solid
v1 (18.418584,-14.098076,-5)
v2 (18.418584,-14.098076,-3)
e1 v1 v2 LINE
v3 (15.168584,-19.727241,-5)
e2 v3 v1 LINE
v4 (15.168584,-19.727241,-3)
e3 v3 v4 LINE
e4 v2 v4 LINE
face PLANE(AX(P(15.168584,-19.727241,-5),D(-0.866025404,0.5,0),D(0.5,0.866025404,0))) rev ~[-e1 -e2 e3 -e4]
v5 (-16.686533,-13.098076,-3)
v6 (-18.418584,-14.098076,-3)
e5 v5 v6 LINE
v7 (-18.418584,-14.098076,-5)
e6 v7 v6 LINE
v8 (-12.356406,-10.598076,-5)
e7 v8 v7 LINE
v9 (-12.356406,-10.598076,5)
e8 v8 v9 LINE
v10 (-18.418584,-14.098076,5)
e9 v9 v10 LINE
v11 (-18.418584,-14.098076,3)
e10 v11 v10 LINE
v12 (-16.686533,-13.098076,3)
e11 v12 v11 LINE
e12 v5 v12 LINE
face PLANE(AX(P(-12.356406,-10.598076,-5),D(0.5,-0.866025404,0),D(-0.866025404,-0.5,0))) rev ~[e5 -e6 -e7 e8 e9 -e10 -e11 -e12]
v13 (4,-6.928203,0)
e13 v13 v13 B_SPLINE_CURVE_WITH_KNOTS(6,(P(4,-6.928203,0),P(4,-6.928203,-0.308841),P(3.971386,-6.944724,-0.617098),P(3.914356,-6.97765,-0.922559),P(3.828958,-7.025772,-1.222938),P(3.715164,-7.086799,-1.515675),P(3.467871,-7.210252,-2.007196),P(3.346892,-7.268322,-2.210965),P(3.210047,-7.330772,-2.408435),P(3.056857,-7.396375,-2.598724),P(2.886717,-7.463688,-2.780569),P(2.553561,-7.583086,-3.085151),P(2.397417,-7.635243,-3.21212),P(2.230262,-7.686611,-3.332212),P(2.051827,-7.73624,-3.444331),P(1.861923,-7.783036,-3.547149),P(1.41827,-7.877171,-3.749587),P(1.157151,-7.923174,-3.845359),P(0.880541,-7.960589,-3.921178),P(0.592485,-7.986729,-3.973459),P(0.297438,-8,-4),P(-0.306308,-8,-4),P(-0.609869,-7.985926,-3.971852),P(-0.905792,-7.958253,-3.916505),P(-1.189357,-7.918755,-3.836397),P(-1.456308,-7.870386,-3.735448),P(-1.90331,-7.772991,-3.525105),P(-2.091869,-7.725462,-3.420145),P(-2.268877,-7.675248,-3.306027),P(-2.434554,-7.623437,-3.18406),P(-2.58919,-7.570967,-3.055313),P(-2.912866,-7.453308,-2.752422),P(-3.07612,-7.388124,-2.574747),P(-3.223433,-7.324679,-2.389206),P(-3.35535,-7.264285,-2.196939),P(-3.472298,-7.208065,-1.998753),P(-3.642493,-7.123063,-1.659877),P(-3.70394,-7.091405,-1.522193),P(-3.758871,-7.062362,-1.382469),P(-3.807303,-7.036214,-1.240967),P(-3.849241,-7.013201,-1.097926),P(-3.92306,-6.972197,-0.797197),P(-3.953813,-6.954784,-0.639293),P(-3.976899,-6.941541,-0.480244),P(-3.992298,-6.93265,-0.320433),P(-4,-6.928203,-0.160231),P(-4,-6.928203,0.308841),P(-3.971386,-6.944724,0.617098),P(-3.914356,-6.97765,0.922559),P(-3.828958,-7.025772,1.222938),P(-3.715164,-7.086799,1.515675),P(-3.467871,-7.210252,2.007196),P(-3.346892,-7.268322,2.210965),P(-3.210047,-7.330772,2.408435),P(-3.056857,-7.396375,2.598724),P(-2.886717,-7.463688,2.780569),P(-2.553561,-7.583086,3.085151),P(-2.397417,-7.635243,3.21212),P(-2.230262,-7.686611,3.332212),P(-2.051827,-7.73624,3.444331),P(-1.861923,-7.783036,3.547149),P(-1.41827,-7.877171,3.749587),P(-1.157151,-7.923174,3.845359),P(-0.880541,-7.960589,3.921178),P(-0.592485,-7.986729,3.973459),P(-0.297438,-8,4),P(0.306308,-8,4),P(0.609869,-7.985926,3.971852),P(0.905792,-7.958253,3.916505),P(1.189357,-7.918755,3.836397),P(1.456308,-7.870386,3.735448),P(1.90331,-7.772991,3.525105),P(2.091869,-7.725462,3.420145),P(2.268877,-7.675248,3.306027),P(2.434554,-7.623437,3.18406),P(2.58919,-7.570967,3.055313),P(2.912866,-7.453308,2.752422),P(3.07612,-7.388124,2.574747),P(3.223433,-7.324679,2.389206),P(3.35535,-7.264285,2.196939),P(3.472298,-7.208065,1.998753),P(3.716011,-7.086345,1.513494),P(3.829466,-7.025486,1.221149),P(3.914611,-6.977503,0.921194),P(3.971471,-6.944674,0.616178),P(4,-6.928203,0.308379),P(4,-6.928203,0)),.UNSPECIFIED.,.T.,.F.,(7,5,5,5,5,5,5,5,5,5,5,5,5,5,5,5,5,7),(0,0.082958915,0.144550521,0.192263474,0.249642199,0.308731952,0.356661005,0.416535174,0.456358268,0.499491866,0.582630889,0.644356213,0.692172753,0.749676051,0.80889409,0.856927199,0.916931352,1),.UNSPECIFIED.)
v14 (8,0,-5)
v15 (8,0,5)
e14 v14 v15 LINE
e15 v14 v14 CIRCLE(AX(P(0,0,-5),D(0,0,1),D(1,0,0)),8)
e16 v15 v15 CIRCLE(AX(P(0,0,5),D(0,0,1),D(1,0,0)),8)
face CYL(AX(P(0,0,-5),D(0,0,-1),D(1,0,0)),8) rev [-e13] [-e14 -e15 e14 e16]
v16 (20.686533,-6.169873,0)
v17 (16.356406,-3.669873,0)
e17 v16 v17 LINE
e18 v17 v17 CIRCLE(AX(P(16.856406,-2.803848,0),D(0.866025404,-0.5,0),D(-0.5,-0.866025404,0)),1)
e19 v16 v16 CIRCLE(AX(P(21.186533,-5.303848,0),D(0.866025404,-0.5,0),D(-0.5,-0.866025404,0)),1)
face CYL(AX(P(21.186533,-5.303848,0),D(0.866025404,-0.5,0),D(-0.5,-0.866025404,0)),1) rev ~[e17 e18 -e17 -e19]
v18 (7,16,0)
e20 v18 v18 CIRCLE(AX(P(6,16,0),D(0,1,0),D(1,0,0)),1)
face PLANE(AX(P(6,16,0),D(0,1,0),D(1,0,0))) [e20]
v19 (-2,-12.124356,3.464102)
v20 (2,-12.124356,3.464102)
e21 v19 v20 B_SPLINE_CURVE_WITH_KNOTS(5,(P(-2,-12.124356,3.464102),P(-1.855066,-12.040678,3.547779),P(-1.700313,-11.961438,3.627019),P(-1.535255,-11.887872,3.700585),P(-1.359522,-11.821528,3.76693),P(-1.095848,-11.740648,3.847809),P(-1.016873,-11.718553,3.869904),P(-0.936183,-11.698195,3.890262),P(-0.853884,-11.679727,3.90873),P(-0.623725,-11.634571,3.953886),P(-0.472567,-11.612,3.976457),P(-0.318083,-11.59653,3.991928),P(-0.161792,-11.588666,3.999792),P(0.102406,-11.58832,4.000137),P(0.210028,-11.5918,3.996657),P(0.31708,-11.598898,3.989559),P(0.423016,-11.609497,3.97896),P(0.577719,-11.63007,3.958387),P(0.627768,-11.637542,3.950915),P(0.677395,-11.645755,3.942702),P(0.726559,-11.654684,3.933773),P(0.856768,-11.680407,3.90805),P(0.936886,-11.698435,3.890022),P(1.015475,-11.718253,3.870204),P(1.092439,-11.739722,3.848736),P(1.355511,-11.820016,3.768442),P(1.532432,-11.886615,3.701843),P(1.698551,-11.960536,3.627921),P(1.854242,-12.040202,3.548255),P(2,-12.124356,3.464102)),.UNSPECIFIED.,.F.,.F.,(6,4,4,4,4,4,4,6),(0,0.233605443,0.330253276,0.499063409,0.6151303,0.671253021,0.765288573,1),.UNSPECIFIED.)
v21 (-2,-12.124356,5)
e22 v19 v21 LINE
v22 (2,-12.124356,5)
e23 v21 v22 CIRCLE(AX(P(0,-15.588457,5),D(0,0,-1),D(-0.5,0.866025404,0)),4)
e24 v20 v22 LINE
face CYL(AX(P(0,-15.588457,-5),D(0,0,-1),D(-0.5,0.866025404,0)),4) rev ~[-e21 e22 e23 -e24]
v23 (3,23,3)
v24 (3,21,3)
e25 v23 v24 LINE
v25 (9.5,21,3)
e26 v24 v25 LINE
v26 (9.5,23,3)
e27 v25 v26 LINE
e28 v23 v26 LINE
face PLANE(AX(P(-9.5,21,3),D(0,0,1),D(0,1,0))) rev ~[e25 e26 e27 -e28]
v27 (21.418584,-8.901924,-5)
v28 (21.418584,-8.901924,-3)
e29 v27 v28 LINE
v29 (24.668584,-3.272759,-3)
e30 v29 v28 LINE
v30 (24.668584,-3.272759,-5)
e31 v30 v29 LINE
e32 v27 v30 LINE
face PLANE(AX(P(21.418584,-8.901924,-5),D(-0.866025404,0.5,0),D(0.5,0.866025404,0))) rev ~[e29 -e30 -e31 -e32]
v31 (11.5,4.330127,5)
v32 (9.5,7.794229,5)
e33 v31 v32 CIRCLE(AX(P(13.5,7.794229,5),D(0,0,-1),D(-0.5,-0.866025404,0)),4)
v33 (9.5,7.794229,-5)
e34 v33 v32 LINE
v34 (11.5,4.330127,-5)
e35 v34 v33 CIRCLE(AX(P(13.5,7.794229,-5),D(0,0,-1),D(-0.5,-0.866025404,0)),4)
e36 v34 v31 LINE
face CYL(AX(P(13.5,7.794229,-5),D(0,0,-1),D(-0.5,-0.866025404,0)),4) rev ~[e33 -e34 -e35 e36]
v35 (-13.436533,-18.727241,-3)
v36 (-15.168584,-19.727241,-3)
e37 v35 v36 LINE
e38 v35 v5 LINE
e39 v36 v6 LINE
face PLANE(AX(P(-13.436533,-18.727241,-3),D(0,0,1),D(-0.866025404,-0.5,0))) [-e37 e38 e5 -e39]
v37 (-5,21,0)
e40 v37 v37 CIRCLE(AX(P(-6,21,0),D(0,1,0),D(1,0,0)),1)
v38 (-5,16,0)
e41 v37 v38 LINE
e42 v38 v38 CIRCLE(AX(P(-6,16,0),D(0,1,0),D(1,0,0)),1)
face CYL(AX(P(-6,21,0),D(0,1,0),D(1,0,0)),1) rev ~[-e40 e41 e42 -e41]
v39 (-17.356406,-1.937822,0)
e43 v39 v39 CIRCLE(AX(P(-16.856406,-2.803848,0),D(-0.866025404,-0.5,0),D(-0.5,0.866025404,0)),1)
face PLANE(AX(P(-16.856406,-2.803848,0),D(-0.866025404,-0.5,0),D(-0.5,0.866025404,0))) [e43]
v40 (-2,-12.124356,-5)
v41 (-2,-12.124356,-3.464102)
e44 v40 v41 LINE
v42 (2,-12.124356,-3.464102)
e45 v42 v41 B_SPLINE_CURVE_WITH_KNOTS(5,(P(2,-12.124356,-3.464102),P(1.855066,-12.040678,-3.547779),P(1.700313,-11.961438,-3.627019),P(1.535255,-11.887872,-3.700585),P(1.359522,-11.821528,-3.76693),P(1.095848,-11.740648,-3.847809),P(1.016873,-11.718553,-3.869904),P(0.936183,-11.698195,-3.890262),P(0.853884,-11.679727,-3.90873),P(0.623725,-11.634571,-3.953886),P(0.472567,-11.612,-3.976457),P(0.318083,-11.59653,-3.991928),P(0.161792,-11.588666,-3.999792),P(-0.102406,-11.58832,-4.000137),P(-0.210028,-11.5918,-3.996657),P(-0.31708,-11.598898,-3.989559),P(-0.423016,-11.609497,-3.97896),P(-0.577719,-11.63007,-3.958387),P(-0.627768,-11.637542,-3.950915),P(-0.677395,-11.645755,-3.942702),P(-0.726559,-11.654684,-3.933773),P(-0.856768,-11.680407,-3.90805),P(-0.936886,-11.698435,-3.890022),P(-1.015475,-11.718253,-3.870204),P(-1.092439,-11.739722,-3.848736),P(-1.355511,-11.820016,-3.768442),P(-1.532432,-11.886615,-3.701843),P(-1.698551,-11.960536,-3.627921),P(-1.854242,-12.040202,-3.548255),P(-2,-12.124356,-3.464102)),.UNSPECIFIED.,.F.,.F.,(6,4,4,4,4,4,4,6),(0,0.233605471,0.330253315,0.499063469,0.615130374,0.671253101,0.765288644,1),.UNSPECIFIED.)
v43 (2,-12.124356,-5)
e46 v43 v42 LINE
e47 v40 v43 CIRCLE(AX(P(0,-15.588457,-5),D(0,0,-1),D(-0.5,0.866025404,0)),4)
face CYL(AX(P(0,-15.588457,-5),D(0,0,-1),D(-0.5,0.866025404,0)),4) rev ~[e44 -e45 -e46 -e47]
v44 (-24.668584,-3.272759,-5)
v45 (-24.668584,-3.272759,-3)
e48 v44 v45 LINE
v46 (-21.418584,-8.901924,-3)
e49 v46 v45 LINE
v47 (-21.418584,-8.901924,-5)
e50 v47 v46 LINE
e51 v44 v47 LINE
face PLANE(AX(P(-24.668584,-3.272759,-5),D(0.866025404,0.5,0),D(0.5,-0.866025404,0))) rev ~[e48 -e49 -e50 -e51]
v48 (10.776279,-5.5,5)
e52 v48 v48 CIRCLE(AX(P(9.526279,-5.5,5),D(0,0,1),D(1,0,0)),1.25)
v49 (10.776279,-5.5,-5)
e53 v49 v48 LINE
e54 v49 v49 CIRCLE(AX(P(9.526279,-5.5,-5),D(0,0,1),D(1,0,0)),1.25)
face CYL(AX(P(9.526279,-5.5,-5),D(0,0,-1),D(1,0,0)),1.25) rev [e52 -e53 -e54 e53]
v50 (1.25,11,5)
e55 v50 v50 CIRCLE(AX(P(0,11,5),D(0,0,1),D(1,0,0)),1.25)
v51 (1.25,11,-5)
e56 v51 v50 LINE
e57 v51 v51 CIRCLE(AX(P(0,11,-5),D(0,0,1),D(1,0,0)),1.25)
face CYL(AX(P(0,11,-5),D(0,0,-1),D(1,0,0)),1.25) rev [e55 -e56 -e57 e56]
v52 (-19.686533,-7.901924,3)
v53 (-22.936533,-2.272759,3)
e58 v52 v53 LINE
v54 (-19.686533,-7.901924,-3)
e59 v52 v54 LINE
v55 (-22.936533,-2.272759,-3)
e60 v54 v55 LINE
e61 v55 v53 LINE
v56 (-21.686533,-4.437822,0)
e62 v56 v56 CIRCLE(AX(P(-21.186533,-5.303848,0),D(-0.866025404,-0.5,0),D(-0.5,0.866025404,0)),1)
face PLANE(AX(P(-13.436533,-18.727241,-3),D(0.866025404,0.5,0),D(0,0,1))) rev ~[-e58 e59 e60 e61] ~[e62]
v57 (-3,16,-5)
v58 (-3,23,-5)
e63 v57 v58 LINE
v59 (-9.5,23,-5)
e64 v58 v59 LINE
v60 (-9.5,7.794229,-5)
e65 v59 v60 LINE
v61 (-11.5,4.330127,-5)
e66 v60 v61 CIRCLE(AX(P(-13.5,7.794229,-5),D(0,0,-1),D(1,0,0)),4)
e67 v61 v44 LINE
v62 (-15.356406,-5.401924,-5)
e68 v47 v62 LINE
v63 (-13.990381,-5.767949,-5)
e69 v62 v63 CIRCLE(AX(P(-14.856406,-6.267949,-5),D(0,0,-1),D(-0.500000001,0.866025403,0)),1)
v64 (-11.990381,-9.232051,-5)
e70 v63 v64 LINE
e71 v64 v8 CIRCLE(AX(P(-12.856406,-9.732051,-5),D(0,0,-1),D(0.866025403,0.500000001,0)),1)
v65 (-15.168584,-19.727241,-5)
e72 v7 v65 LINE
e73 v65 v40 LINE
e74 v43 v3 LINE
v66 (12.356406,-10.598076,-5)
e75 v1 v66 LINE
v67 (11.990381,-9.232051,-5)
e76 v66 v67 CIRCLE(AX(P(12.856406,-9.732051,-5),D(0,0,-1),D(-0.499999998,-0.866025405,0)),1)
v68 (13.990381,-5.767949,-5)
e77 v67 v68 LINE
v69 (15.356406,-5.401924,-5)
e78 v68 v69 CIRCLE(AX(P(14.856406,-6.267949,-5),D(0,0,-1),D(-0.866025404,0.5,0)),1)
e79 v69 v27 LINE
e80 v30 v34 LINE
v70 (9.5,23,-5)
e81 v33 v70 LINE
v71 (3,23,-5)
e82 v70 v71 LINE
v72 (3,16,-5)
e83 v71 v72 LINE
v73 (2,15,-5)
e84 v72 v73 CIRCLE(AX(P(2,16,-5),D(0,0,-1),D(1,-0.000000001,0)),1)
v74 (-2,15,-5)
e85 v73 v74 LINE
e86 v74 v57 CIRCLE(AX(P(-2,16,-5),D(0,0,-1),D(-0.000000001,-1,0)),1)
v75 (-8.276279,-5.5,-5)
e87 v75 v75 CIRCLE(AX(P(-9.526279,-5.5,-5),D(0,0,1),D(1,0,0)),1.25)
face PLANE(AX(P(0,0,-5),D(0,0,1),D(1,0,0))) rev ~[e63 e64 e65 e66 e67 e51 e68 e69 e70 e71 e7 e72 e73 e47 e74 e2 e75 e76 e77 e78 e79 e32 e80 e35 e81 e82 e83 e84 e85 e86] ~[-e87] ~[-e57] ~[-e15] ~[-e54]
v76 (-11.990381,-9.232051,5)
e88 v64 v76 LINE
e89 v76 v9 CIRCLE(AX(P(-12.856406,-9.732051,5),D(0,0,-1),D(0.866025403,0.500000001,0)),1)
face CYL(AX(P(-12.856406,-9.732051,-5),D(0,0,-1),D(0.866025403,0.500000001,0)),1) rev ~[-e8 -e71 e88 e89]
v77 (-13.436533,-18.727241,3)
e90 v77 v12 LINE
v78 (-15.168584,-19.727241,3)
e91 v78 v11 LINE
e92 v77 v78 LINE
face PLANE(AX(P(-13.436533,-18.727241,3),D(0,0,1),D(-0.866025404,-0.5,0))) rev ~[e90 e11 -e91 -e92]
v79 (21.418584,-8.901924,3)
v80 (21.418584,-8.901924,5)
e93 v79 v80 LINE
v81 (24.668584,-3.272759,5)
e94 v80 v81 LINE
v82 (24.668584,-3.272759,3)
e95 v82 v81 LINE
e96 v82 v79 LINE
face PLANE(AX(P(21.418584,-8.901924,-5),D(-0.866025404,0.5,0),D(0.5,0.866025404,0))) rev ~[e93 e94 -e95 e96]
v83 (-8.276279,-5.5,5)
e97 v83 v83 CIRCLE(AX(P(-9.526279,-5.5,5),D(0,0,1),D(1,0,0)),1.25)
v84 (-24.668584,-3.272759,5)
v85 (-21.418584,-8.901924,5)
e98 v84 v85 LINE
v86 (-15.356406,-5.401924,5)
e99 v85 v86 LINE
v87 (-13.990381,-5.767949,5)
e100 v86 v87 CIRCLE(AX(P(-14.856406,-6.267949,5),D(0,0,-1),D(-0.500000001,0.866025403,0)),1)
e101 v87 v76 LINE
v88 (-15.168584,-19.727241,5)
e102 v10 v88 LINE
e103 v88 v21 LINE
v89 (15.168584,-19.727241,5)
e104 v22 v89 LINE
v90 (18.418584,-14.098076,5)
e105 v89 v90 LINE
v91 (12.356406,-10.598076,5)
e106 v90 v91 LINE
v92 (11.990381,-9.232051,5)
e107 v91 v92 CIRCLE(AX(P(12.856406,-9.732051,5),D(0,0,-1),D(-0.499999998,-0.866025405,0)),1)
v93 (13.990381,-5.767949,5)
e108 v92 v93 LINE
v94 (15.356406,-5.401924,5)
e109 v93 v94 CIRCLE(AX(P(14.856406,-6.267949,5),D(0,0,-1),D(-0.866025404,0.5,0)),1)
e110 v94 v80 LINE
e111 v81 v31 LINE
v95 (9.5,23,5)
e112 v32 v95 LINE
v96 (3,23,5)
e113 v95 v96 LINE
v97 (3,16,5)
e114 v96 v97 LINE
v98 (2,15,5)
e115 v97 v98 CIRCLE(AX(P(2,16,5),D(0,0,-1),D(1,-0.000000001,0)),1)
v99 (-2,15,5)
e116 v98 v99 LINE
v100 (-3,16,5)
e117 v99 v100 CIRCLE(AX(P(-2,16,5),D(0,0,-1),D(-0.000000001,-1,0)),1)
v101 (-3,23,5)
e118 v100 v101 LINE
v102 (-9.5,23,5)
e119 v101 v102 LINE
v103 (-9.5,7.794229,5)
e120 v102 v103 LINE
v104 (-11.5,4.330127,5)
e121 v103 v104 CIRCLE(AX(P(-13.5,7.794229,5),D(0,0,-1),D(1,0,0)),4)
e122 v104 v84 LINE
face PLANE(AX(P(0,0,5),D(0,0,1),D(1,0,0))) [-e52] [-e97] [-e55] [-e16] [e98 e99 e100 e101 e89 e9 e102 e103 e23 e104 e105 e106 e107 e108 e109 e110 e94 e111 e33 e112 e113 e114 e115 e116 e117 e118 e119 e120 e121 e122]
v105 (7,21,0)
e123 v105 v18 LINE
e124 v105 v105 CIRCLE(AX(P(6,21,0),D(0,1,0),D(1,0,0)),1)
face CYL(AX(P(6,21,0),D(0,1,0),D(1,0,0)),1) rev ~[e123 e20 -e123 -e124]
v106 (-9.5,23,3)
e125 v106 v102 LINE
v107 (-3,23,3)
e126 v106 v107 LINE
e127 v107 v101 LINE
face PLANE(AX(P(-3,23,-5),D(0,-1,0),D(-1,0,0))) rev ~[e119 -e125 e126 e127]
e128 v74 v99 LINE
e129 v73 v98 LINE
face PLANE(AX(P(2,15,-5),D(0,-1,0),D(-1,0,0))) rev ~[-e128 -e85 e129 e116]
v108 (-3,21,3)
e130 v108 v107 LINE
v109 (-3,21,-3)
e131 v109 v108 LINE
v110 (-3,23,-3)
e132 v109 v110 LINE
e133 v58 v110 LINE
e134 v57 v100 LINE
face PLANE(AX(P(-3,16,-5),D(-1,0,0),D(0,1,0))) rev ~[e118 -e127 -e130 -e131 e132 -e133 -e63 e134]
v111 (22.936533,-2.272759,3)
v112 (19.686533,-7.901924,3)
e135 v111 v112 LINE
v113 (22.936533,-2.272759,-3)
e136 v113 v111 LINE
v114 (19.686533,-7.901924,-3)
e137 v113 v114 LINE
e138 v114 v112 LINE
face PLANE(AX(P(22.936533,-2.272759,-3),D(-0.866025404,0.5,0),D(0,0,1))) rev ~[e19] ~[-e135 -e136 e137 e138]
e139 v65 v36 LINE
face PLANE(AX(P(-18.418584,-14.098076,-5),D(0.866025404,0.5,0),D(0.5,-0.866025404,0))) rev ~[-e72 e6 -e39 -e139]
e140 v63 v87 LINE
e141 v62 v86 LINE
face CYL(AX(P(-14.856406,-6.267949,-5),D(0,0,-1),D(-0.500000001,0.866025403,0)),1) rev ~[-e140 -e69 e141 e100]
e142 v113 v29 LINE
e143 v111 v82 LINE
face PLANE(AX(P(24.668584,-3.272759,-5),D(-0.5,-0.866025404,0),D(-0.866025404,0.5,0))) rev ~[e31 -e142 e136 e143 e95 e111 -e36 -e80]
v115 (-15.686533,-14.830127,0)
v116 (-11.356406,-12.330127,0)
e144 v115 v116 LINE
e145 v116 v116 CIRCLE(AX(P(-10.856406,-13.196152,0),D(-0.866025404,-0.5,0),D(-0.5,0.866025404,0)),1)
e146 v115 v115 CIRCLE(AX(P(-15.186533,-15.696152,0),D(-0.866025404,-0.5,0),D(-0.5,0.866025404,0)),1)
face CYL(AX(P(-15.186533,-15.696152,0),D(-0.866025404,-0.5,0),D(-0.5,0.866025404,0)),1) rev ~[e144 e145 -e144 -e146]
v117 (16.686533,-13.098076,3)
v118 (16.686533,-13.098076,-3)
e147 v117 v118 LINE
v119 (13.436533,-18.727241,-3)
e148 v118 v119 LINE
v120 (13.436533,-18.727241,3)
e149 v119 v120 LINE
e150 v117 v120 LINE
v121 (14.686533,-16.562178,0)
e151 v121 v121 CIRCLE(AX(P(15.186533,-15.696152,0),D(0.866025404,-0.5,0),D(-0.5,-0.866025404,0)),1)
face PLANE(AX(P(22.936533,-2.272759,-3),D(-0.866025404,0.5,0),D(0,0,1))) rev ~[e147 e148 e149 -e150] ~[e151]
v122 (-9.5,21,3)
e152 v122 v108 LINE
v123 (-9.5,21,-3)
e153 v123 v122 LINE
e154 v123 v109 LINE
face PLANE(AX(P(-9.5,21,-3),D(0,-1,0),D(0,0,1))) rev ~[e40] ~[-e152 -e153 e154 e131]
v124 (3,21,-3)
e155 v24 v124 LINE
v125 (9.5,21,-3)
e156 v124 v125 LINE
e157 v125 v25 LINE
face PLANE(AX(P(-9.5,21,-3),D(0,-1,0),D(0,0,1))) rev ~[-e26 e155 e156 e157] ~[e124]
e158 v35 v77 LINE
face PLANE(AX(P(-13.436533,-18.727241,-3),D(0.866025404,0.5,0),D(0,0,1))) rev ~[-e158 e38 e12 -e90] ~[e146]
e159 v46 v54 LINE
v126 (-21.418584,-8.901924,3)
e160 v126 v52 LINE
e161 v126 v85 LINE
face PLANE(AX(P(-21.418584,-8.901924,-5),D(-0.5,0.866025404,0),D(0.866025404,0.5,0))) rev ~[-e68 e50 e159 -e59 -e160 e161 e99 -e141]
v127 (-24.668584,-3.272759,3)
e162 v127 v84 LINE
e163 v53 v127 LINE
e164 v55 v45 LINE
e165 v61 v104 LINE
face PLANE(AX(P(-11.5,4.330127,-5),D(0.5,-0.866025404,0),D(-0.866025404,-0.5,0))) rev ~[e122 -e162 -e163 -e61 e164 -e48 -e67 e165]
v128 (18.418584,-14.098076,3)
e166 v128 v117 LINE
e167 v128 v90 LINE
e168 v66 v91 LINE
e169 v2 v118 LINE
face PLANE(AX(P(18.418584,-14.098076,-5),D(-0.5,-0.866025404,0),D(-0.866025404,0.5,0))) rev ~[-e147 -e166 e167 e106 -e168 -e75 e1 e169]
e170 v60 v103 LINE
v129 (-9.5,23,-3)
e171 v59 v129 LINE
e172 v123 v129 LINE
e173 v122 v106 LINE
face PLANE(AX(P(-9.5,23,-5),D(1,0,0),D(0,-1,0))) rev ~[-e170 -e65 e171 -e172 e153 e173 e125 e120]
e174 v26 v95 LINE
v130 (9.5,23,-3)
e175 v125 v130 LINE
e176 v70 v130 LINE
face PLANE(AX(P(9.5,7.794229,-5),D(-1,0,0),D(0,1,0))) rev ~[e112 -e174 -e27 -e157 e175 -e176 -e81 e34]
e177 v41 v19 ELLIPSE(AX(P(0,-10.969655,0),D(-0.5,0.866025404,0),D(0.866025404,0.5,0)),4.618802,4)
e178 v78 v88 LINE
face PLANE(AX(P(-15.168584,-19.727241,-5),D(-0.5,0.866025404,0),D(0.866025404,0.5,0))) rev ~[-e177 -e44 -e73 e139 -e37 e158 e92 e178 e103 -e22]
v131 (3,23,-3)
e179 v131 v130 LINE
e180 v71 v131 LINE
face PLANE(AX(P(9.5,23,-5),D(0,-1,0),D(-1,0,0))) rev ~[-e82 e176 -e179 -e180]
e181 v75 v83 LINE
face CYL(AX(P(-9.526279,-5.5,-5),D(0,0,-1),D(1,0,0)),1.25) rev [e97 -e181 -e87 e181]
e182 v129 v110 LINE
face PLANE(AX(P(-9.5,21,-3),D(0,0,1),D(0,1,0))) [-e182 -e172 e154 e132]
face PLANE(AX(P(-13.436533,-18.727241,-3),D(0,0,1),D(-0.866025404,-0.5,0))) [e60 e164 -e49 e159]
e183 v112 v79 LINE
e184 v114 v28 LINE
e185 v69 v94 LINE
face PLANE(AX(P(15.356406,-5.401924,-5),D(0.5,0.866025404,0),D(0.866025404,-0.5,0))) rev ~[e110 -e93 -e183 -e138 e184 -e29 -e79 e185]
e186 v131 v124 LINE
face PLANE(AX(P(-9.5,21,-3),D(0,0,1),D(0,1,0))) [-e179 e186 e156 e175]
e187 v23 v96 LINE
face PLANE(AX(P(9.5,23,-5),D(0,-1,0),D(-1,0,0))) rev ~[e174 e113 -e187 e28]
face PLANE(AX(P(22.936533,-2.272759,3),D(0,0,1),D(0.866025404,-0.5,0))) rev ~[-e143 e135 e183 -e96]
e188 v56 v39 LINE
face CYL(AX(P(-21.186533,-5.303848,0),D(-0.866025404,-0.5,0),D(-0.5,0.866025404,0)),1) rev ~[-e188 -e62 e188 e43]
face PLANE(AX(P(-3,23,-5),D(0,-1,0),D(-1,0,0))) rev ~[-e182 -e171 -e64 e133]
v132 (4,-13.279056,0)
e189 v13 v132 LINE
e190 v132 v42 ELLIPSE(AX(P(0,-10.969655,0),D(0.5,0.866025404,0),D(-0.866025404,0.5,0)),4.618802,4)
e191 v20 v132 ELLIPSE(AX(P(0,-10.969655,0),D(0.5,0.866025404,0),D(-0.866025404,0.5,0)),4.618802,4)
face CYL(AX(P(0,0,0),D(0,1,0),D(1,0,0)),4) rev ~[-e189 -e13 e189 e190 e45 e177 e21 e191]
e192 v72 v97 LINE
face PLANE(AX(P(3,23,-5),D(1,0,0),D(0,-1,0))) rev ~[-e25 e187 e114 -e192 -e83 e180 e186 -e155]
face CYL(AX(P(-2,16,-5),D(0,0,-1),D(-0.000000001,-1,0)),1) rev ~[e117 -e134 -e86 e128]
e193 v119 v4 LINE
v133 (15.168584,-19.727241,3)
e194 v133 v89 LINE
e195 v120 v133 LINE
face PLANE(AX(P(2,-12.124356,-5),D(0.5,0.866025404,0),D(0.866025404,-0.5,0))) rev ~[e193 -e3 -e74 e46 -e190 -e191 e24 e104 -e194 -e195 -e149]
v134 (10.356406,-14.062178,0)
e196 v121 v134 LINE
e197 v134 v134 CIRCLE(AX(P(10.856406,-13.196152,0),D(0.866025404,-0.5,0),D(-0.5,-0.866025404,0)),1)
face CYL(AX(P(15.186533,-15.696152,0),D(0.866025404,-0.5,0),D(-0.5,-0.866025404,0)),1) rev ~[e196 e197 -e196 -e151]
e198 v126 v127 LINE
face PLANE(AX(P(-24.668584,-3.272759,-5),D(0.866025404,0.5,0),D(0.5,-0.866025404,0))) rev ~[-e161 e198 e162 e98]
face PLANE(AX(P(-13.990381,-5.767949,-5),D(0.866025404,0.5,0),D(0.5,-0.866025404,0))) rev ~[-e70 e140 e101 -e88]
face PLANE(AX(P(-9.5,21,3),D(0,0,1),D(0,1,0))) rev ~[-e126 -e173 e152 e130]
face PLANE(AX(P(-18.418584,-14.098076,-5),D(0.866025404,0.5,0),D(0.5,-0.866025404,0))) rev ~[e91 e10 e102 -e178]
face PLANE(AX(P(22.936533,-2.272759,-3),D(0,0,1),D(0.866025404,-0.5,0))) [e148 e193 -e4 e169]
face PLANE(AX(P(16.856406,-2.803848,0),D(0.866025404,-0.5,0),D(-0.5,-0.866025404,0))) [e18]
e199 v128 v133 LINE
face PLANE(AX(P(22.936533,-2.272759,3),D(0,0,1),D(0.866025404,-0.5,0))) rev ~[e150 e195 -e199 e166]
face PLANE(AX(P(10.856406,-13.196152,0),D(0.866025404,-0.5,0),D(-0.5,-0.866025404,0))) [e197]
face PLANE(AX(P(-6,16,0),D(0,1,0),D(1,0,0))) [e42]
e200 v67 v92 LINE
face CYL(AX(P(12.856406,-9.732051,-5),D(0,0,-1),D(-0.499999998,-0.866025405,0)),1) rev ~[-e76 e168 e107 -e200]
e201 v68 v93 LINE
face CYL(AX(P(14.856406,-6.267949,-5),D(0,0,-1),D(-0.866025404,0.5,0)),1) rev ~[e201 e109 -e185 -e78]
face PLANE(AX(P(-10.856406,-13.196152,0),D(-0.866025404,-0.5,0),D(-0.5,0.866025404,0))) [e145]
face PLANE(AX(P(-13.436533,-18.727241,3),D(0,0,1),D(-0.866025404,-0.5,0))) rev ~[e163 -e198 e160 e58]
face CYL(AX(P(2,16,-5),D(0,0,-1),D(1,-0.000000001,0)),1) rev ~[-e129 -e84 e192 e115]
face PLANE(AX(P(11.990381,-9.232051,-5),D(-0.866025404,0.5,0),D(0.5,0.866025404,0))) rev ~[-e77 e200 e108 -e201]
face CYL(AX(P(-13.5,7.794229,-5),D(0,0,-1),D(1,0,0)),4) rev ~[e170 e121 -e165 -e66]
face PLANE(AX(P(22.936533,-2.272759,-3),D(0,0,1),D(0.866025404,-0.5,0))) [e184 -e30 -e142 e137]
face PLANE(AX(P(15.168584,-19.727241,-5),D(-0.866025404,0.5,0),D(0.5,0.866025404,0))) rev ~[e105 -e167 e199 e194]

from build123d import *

# Parameters (mm, degrees)
BOSS_EXTRU_1_DEPTH           = 5
BOSS_EXTRU_1_DEPTH_BACK      = 5
ESQUISSE1_R                  = 1.25
ESQUISSE1_R_2                = 8
ESQUISSE2_W                  = 6
ESQUISSE2_H                  = 2
ENL_V_MAT_EXTRU_1_DEPTH      = 19
ESQUISSE3_R                  = 1
ENL_V_MAT_EXTRU_2_DEPTH      = 5
R_P_TITION_CIRCULAIRE1_COUNT = 3
ESQUISSE5_R                  = 4
ENL_V_MAT_EXTRU_5_DEPTH      = 18


with BuildPart() as part:
    # Esquisse1 → Boss.-Extru.1 (new, two sides: drawn at the far end of the back side and taken through both)
    with BuildSketch(Plane.XY.offset(-BOSS_EXTRU_1_DEPTH_BACK)):
        with BuildLine():
            Line((21.418584287, -8.901923789), (24.668584287, -3.272758664))
            Line((24.668584287, -3.272758664), (11.5, 4.330127019))
            ThreePointArc((11.5, 4.330127019), (10.035898385, 5.794228634), (9.5, 7.794228634))
            Line((9.5, 7.794228634), (9.5, 23))
            Line((9.5, 23), (3, 23))
            Line((3, 23), (3, 16))
            ThreePointArc((3, 16), (2.707106781, 15.292893219), (2, 15))
            Line((2, 15), (-2, 15))
            ThreePointArc((-2, 15), (-2.707106781, 15.292893219), (-3, 16))
            Line((-3, 16), (-3, 23))
            Line((-3, 23), (-9.5, 23))
            Line((-9.5, 23), (-9.5, 7.794228634))
            ThreePointArc((-9.5, 7.794228634), (-10.035898385, 5.794228634), (-11.5, 4.330127019))
            Line((-11.5, 4.330127019), (-24.668584287, -3.272758664))
            Line((-24.668584287, -3.272758664), (-21.418584287, -8.901923789))
            Line((-21.418584287, -8.901923789), (-15.356406461, -5.401923789))
            ThreePointArc((-15.356406461, -5.401923789), (-14.597587415, -5.302023366), (-13.990381057, -5.767949192))
            Line((-13.990381057, -5.767949192), (-11.990381057, -9.232050808))
            ThreePointArc((-11.990381057, -9.232050808), (-11.890480634, -9.990869853), (-12.356406461, -10.598076211))
            Line((-12.356406461, -10.598076211), (-18.418584287, -14.098076211))
            Line((-18.418584287, -14.098076211), (-15.168584287, -19.727241336))
            Line((-15.168584287, -19.727241336), (-2, -12.124355653))
            ThreePointArc((-2, -12.124355653), (0, -11.588457268), (2, -12.124355653))
            Line((2, -12.124355653), (15.168584287, -19.727241336))
            Line((15.168584287, -19.727241336), (18.418584287, -14.098076211))
            Line((18.418584287, -14.098076211), (12.356406461, -10.598076211))
            ThreePointArc((12.356406461, -10.598076211), (11.890480634, -9.990869853), (11.990381057, -9.232050808))
            Line((11.990381057, -9.232050808), (13.990381057, -5.767949192))
            ThreePointArc((13.990381057, -5.767949192), (14.597587415, -5.302023366), (15.356406461, -5.401923789))
            Line((15.356406461, -5.401923789), (21.418584287, -8.901923789))
        make_face()
        with Locations((-9.526279442, -5.5)):
            Circle(ESQUISSE1_R, mode=Mode.SUBTRACT)
        Circle(ESQUISSE1_R_2, mode=Mode.SUBTRACT)
        with Locations((9.526279442, -5.5)):
            Circle(ESQUISSE1_R, mode=Mode.SUBTRACT)
        with Locations((0, 11)):
            Circle(ESQUISSE1_R, mode=Mode.SUBTRACT)
    extrude(amount=BOSS_EXTRU_1_DEPTH + BOSS_EXTRU_1_DEPTH_BACK)

    # Esquisse2 → Enlèv. mat.-Extru.1 (cut)
    with BuildSketch(Plane.ZY.offset(9.5)):
        with Locations((0, 22)):
            Rectangle(ESQUISSE2_W, ESQUISSE2_H)
    enl_v_mat_extru_1 = extrude(amount=-ENL_V_MAT_EXTRU_1_DEPTH, mode=Mode.SUBTRACT)

    # Esquisse3 → Enlèv. mat.-Extru.2 (cut)
    with BuildSketch(Plane(origin=(0, 21, 0), x_dir=(1, 0, 0), z_dir=(0, 1, 0))):
        with Locations((-6, 0)):
            Circle(ESQUISSE3_R)
        with Locations((6, 0)):
            Circle(ESQUISSE3_R)
    enl_v_mat_extru_2 = extrude(amount=-ENL_V_MAT_EXTRU_2_DEPTH, mode=Mode.SUBTRACT)

    # Répétition circulaire1: Enlèv. mat.-Extru.1, Enlèv. mat.-Extru.2 ×3 about axis
    r_p_tition_circulaire1_axis = Axis((0, 0, -5), (0, 0, 1))
    add([enl_v_mat_extru_1.rotate(r_p_tition_circulaire1_axis, i * 360 / R_P_TITION_CIRCULAIRE1_COUNT) for i in range(1, R_P_TITION_CIRCULAIRE1_COUNT)], mode=Mode.SUBTRACT)
    add([enl_v_mat_extru_2.rotate(r_p_tition_circulaire1_axis, i * 360 / R_P_TITION_CIRCULAIRE1_COUNT) for i in range(1, R_P_TITION_CIRCULAIRE1_COUNT)], mode=Mode.SUBTRACT)

    # Esquisse5 → Enlèv. mat.-Extru.5 (cut)
    with BuildSketch(Plane(origin=(0, 0, 0), x_dir=(1, 0, 0), z_dir=(0, 1, 0))):
        Circle(ESQUISSE5_R)
    extrude(amount=-ENL_V_MAT_EXTRU_5_DEPTH, mode=Mode.SUBTRACT)


solid = part.part
